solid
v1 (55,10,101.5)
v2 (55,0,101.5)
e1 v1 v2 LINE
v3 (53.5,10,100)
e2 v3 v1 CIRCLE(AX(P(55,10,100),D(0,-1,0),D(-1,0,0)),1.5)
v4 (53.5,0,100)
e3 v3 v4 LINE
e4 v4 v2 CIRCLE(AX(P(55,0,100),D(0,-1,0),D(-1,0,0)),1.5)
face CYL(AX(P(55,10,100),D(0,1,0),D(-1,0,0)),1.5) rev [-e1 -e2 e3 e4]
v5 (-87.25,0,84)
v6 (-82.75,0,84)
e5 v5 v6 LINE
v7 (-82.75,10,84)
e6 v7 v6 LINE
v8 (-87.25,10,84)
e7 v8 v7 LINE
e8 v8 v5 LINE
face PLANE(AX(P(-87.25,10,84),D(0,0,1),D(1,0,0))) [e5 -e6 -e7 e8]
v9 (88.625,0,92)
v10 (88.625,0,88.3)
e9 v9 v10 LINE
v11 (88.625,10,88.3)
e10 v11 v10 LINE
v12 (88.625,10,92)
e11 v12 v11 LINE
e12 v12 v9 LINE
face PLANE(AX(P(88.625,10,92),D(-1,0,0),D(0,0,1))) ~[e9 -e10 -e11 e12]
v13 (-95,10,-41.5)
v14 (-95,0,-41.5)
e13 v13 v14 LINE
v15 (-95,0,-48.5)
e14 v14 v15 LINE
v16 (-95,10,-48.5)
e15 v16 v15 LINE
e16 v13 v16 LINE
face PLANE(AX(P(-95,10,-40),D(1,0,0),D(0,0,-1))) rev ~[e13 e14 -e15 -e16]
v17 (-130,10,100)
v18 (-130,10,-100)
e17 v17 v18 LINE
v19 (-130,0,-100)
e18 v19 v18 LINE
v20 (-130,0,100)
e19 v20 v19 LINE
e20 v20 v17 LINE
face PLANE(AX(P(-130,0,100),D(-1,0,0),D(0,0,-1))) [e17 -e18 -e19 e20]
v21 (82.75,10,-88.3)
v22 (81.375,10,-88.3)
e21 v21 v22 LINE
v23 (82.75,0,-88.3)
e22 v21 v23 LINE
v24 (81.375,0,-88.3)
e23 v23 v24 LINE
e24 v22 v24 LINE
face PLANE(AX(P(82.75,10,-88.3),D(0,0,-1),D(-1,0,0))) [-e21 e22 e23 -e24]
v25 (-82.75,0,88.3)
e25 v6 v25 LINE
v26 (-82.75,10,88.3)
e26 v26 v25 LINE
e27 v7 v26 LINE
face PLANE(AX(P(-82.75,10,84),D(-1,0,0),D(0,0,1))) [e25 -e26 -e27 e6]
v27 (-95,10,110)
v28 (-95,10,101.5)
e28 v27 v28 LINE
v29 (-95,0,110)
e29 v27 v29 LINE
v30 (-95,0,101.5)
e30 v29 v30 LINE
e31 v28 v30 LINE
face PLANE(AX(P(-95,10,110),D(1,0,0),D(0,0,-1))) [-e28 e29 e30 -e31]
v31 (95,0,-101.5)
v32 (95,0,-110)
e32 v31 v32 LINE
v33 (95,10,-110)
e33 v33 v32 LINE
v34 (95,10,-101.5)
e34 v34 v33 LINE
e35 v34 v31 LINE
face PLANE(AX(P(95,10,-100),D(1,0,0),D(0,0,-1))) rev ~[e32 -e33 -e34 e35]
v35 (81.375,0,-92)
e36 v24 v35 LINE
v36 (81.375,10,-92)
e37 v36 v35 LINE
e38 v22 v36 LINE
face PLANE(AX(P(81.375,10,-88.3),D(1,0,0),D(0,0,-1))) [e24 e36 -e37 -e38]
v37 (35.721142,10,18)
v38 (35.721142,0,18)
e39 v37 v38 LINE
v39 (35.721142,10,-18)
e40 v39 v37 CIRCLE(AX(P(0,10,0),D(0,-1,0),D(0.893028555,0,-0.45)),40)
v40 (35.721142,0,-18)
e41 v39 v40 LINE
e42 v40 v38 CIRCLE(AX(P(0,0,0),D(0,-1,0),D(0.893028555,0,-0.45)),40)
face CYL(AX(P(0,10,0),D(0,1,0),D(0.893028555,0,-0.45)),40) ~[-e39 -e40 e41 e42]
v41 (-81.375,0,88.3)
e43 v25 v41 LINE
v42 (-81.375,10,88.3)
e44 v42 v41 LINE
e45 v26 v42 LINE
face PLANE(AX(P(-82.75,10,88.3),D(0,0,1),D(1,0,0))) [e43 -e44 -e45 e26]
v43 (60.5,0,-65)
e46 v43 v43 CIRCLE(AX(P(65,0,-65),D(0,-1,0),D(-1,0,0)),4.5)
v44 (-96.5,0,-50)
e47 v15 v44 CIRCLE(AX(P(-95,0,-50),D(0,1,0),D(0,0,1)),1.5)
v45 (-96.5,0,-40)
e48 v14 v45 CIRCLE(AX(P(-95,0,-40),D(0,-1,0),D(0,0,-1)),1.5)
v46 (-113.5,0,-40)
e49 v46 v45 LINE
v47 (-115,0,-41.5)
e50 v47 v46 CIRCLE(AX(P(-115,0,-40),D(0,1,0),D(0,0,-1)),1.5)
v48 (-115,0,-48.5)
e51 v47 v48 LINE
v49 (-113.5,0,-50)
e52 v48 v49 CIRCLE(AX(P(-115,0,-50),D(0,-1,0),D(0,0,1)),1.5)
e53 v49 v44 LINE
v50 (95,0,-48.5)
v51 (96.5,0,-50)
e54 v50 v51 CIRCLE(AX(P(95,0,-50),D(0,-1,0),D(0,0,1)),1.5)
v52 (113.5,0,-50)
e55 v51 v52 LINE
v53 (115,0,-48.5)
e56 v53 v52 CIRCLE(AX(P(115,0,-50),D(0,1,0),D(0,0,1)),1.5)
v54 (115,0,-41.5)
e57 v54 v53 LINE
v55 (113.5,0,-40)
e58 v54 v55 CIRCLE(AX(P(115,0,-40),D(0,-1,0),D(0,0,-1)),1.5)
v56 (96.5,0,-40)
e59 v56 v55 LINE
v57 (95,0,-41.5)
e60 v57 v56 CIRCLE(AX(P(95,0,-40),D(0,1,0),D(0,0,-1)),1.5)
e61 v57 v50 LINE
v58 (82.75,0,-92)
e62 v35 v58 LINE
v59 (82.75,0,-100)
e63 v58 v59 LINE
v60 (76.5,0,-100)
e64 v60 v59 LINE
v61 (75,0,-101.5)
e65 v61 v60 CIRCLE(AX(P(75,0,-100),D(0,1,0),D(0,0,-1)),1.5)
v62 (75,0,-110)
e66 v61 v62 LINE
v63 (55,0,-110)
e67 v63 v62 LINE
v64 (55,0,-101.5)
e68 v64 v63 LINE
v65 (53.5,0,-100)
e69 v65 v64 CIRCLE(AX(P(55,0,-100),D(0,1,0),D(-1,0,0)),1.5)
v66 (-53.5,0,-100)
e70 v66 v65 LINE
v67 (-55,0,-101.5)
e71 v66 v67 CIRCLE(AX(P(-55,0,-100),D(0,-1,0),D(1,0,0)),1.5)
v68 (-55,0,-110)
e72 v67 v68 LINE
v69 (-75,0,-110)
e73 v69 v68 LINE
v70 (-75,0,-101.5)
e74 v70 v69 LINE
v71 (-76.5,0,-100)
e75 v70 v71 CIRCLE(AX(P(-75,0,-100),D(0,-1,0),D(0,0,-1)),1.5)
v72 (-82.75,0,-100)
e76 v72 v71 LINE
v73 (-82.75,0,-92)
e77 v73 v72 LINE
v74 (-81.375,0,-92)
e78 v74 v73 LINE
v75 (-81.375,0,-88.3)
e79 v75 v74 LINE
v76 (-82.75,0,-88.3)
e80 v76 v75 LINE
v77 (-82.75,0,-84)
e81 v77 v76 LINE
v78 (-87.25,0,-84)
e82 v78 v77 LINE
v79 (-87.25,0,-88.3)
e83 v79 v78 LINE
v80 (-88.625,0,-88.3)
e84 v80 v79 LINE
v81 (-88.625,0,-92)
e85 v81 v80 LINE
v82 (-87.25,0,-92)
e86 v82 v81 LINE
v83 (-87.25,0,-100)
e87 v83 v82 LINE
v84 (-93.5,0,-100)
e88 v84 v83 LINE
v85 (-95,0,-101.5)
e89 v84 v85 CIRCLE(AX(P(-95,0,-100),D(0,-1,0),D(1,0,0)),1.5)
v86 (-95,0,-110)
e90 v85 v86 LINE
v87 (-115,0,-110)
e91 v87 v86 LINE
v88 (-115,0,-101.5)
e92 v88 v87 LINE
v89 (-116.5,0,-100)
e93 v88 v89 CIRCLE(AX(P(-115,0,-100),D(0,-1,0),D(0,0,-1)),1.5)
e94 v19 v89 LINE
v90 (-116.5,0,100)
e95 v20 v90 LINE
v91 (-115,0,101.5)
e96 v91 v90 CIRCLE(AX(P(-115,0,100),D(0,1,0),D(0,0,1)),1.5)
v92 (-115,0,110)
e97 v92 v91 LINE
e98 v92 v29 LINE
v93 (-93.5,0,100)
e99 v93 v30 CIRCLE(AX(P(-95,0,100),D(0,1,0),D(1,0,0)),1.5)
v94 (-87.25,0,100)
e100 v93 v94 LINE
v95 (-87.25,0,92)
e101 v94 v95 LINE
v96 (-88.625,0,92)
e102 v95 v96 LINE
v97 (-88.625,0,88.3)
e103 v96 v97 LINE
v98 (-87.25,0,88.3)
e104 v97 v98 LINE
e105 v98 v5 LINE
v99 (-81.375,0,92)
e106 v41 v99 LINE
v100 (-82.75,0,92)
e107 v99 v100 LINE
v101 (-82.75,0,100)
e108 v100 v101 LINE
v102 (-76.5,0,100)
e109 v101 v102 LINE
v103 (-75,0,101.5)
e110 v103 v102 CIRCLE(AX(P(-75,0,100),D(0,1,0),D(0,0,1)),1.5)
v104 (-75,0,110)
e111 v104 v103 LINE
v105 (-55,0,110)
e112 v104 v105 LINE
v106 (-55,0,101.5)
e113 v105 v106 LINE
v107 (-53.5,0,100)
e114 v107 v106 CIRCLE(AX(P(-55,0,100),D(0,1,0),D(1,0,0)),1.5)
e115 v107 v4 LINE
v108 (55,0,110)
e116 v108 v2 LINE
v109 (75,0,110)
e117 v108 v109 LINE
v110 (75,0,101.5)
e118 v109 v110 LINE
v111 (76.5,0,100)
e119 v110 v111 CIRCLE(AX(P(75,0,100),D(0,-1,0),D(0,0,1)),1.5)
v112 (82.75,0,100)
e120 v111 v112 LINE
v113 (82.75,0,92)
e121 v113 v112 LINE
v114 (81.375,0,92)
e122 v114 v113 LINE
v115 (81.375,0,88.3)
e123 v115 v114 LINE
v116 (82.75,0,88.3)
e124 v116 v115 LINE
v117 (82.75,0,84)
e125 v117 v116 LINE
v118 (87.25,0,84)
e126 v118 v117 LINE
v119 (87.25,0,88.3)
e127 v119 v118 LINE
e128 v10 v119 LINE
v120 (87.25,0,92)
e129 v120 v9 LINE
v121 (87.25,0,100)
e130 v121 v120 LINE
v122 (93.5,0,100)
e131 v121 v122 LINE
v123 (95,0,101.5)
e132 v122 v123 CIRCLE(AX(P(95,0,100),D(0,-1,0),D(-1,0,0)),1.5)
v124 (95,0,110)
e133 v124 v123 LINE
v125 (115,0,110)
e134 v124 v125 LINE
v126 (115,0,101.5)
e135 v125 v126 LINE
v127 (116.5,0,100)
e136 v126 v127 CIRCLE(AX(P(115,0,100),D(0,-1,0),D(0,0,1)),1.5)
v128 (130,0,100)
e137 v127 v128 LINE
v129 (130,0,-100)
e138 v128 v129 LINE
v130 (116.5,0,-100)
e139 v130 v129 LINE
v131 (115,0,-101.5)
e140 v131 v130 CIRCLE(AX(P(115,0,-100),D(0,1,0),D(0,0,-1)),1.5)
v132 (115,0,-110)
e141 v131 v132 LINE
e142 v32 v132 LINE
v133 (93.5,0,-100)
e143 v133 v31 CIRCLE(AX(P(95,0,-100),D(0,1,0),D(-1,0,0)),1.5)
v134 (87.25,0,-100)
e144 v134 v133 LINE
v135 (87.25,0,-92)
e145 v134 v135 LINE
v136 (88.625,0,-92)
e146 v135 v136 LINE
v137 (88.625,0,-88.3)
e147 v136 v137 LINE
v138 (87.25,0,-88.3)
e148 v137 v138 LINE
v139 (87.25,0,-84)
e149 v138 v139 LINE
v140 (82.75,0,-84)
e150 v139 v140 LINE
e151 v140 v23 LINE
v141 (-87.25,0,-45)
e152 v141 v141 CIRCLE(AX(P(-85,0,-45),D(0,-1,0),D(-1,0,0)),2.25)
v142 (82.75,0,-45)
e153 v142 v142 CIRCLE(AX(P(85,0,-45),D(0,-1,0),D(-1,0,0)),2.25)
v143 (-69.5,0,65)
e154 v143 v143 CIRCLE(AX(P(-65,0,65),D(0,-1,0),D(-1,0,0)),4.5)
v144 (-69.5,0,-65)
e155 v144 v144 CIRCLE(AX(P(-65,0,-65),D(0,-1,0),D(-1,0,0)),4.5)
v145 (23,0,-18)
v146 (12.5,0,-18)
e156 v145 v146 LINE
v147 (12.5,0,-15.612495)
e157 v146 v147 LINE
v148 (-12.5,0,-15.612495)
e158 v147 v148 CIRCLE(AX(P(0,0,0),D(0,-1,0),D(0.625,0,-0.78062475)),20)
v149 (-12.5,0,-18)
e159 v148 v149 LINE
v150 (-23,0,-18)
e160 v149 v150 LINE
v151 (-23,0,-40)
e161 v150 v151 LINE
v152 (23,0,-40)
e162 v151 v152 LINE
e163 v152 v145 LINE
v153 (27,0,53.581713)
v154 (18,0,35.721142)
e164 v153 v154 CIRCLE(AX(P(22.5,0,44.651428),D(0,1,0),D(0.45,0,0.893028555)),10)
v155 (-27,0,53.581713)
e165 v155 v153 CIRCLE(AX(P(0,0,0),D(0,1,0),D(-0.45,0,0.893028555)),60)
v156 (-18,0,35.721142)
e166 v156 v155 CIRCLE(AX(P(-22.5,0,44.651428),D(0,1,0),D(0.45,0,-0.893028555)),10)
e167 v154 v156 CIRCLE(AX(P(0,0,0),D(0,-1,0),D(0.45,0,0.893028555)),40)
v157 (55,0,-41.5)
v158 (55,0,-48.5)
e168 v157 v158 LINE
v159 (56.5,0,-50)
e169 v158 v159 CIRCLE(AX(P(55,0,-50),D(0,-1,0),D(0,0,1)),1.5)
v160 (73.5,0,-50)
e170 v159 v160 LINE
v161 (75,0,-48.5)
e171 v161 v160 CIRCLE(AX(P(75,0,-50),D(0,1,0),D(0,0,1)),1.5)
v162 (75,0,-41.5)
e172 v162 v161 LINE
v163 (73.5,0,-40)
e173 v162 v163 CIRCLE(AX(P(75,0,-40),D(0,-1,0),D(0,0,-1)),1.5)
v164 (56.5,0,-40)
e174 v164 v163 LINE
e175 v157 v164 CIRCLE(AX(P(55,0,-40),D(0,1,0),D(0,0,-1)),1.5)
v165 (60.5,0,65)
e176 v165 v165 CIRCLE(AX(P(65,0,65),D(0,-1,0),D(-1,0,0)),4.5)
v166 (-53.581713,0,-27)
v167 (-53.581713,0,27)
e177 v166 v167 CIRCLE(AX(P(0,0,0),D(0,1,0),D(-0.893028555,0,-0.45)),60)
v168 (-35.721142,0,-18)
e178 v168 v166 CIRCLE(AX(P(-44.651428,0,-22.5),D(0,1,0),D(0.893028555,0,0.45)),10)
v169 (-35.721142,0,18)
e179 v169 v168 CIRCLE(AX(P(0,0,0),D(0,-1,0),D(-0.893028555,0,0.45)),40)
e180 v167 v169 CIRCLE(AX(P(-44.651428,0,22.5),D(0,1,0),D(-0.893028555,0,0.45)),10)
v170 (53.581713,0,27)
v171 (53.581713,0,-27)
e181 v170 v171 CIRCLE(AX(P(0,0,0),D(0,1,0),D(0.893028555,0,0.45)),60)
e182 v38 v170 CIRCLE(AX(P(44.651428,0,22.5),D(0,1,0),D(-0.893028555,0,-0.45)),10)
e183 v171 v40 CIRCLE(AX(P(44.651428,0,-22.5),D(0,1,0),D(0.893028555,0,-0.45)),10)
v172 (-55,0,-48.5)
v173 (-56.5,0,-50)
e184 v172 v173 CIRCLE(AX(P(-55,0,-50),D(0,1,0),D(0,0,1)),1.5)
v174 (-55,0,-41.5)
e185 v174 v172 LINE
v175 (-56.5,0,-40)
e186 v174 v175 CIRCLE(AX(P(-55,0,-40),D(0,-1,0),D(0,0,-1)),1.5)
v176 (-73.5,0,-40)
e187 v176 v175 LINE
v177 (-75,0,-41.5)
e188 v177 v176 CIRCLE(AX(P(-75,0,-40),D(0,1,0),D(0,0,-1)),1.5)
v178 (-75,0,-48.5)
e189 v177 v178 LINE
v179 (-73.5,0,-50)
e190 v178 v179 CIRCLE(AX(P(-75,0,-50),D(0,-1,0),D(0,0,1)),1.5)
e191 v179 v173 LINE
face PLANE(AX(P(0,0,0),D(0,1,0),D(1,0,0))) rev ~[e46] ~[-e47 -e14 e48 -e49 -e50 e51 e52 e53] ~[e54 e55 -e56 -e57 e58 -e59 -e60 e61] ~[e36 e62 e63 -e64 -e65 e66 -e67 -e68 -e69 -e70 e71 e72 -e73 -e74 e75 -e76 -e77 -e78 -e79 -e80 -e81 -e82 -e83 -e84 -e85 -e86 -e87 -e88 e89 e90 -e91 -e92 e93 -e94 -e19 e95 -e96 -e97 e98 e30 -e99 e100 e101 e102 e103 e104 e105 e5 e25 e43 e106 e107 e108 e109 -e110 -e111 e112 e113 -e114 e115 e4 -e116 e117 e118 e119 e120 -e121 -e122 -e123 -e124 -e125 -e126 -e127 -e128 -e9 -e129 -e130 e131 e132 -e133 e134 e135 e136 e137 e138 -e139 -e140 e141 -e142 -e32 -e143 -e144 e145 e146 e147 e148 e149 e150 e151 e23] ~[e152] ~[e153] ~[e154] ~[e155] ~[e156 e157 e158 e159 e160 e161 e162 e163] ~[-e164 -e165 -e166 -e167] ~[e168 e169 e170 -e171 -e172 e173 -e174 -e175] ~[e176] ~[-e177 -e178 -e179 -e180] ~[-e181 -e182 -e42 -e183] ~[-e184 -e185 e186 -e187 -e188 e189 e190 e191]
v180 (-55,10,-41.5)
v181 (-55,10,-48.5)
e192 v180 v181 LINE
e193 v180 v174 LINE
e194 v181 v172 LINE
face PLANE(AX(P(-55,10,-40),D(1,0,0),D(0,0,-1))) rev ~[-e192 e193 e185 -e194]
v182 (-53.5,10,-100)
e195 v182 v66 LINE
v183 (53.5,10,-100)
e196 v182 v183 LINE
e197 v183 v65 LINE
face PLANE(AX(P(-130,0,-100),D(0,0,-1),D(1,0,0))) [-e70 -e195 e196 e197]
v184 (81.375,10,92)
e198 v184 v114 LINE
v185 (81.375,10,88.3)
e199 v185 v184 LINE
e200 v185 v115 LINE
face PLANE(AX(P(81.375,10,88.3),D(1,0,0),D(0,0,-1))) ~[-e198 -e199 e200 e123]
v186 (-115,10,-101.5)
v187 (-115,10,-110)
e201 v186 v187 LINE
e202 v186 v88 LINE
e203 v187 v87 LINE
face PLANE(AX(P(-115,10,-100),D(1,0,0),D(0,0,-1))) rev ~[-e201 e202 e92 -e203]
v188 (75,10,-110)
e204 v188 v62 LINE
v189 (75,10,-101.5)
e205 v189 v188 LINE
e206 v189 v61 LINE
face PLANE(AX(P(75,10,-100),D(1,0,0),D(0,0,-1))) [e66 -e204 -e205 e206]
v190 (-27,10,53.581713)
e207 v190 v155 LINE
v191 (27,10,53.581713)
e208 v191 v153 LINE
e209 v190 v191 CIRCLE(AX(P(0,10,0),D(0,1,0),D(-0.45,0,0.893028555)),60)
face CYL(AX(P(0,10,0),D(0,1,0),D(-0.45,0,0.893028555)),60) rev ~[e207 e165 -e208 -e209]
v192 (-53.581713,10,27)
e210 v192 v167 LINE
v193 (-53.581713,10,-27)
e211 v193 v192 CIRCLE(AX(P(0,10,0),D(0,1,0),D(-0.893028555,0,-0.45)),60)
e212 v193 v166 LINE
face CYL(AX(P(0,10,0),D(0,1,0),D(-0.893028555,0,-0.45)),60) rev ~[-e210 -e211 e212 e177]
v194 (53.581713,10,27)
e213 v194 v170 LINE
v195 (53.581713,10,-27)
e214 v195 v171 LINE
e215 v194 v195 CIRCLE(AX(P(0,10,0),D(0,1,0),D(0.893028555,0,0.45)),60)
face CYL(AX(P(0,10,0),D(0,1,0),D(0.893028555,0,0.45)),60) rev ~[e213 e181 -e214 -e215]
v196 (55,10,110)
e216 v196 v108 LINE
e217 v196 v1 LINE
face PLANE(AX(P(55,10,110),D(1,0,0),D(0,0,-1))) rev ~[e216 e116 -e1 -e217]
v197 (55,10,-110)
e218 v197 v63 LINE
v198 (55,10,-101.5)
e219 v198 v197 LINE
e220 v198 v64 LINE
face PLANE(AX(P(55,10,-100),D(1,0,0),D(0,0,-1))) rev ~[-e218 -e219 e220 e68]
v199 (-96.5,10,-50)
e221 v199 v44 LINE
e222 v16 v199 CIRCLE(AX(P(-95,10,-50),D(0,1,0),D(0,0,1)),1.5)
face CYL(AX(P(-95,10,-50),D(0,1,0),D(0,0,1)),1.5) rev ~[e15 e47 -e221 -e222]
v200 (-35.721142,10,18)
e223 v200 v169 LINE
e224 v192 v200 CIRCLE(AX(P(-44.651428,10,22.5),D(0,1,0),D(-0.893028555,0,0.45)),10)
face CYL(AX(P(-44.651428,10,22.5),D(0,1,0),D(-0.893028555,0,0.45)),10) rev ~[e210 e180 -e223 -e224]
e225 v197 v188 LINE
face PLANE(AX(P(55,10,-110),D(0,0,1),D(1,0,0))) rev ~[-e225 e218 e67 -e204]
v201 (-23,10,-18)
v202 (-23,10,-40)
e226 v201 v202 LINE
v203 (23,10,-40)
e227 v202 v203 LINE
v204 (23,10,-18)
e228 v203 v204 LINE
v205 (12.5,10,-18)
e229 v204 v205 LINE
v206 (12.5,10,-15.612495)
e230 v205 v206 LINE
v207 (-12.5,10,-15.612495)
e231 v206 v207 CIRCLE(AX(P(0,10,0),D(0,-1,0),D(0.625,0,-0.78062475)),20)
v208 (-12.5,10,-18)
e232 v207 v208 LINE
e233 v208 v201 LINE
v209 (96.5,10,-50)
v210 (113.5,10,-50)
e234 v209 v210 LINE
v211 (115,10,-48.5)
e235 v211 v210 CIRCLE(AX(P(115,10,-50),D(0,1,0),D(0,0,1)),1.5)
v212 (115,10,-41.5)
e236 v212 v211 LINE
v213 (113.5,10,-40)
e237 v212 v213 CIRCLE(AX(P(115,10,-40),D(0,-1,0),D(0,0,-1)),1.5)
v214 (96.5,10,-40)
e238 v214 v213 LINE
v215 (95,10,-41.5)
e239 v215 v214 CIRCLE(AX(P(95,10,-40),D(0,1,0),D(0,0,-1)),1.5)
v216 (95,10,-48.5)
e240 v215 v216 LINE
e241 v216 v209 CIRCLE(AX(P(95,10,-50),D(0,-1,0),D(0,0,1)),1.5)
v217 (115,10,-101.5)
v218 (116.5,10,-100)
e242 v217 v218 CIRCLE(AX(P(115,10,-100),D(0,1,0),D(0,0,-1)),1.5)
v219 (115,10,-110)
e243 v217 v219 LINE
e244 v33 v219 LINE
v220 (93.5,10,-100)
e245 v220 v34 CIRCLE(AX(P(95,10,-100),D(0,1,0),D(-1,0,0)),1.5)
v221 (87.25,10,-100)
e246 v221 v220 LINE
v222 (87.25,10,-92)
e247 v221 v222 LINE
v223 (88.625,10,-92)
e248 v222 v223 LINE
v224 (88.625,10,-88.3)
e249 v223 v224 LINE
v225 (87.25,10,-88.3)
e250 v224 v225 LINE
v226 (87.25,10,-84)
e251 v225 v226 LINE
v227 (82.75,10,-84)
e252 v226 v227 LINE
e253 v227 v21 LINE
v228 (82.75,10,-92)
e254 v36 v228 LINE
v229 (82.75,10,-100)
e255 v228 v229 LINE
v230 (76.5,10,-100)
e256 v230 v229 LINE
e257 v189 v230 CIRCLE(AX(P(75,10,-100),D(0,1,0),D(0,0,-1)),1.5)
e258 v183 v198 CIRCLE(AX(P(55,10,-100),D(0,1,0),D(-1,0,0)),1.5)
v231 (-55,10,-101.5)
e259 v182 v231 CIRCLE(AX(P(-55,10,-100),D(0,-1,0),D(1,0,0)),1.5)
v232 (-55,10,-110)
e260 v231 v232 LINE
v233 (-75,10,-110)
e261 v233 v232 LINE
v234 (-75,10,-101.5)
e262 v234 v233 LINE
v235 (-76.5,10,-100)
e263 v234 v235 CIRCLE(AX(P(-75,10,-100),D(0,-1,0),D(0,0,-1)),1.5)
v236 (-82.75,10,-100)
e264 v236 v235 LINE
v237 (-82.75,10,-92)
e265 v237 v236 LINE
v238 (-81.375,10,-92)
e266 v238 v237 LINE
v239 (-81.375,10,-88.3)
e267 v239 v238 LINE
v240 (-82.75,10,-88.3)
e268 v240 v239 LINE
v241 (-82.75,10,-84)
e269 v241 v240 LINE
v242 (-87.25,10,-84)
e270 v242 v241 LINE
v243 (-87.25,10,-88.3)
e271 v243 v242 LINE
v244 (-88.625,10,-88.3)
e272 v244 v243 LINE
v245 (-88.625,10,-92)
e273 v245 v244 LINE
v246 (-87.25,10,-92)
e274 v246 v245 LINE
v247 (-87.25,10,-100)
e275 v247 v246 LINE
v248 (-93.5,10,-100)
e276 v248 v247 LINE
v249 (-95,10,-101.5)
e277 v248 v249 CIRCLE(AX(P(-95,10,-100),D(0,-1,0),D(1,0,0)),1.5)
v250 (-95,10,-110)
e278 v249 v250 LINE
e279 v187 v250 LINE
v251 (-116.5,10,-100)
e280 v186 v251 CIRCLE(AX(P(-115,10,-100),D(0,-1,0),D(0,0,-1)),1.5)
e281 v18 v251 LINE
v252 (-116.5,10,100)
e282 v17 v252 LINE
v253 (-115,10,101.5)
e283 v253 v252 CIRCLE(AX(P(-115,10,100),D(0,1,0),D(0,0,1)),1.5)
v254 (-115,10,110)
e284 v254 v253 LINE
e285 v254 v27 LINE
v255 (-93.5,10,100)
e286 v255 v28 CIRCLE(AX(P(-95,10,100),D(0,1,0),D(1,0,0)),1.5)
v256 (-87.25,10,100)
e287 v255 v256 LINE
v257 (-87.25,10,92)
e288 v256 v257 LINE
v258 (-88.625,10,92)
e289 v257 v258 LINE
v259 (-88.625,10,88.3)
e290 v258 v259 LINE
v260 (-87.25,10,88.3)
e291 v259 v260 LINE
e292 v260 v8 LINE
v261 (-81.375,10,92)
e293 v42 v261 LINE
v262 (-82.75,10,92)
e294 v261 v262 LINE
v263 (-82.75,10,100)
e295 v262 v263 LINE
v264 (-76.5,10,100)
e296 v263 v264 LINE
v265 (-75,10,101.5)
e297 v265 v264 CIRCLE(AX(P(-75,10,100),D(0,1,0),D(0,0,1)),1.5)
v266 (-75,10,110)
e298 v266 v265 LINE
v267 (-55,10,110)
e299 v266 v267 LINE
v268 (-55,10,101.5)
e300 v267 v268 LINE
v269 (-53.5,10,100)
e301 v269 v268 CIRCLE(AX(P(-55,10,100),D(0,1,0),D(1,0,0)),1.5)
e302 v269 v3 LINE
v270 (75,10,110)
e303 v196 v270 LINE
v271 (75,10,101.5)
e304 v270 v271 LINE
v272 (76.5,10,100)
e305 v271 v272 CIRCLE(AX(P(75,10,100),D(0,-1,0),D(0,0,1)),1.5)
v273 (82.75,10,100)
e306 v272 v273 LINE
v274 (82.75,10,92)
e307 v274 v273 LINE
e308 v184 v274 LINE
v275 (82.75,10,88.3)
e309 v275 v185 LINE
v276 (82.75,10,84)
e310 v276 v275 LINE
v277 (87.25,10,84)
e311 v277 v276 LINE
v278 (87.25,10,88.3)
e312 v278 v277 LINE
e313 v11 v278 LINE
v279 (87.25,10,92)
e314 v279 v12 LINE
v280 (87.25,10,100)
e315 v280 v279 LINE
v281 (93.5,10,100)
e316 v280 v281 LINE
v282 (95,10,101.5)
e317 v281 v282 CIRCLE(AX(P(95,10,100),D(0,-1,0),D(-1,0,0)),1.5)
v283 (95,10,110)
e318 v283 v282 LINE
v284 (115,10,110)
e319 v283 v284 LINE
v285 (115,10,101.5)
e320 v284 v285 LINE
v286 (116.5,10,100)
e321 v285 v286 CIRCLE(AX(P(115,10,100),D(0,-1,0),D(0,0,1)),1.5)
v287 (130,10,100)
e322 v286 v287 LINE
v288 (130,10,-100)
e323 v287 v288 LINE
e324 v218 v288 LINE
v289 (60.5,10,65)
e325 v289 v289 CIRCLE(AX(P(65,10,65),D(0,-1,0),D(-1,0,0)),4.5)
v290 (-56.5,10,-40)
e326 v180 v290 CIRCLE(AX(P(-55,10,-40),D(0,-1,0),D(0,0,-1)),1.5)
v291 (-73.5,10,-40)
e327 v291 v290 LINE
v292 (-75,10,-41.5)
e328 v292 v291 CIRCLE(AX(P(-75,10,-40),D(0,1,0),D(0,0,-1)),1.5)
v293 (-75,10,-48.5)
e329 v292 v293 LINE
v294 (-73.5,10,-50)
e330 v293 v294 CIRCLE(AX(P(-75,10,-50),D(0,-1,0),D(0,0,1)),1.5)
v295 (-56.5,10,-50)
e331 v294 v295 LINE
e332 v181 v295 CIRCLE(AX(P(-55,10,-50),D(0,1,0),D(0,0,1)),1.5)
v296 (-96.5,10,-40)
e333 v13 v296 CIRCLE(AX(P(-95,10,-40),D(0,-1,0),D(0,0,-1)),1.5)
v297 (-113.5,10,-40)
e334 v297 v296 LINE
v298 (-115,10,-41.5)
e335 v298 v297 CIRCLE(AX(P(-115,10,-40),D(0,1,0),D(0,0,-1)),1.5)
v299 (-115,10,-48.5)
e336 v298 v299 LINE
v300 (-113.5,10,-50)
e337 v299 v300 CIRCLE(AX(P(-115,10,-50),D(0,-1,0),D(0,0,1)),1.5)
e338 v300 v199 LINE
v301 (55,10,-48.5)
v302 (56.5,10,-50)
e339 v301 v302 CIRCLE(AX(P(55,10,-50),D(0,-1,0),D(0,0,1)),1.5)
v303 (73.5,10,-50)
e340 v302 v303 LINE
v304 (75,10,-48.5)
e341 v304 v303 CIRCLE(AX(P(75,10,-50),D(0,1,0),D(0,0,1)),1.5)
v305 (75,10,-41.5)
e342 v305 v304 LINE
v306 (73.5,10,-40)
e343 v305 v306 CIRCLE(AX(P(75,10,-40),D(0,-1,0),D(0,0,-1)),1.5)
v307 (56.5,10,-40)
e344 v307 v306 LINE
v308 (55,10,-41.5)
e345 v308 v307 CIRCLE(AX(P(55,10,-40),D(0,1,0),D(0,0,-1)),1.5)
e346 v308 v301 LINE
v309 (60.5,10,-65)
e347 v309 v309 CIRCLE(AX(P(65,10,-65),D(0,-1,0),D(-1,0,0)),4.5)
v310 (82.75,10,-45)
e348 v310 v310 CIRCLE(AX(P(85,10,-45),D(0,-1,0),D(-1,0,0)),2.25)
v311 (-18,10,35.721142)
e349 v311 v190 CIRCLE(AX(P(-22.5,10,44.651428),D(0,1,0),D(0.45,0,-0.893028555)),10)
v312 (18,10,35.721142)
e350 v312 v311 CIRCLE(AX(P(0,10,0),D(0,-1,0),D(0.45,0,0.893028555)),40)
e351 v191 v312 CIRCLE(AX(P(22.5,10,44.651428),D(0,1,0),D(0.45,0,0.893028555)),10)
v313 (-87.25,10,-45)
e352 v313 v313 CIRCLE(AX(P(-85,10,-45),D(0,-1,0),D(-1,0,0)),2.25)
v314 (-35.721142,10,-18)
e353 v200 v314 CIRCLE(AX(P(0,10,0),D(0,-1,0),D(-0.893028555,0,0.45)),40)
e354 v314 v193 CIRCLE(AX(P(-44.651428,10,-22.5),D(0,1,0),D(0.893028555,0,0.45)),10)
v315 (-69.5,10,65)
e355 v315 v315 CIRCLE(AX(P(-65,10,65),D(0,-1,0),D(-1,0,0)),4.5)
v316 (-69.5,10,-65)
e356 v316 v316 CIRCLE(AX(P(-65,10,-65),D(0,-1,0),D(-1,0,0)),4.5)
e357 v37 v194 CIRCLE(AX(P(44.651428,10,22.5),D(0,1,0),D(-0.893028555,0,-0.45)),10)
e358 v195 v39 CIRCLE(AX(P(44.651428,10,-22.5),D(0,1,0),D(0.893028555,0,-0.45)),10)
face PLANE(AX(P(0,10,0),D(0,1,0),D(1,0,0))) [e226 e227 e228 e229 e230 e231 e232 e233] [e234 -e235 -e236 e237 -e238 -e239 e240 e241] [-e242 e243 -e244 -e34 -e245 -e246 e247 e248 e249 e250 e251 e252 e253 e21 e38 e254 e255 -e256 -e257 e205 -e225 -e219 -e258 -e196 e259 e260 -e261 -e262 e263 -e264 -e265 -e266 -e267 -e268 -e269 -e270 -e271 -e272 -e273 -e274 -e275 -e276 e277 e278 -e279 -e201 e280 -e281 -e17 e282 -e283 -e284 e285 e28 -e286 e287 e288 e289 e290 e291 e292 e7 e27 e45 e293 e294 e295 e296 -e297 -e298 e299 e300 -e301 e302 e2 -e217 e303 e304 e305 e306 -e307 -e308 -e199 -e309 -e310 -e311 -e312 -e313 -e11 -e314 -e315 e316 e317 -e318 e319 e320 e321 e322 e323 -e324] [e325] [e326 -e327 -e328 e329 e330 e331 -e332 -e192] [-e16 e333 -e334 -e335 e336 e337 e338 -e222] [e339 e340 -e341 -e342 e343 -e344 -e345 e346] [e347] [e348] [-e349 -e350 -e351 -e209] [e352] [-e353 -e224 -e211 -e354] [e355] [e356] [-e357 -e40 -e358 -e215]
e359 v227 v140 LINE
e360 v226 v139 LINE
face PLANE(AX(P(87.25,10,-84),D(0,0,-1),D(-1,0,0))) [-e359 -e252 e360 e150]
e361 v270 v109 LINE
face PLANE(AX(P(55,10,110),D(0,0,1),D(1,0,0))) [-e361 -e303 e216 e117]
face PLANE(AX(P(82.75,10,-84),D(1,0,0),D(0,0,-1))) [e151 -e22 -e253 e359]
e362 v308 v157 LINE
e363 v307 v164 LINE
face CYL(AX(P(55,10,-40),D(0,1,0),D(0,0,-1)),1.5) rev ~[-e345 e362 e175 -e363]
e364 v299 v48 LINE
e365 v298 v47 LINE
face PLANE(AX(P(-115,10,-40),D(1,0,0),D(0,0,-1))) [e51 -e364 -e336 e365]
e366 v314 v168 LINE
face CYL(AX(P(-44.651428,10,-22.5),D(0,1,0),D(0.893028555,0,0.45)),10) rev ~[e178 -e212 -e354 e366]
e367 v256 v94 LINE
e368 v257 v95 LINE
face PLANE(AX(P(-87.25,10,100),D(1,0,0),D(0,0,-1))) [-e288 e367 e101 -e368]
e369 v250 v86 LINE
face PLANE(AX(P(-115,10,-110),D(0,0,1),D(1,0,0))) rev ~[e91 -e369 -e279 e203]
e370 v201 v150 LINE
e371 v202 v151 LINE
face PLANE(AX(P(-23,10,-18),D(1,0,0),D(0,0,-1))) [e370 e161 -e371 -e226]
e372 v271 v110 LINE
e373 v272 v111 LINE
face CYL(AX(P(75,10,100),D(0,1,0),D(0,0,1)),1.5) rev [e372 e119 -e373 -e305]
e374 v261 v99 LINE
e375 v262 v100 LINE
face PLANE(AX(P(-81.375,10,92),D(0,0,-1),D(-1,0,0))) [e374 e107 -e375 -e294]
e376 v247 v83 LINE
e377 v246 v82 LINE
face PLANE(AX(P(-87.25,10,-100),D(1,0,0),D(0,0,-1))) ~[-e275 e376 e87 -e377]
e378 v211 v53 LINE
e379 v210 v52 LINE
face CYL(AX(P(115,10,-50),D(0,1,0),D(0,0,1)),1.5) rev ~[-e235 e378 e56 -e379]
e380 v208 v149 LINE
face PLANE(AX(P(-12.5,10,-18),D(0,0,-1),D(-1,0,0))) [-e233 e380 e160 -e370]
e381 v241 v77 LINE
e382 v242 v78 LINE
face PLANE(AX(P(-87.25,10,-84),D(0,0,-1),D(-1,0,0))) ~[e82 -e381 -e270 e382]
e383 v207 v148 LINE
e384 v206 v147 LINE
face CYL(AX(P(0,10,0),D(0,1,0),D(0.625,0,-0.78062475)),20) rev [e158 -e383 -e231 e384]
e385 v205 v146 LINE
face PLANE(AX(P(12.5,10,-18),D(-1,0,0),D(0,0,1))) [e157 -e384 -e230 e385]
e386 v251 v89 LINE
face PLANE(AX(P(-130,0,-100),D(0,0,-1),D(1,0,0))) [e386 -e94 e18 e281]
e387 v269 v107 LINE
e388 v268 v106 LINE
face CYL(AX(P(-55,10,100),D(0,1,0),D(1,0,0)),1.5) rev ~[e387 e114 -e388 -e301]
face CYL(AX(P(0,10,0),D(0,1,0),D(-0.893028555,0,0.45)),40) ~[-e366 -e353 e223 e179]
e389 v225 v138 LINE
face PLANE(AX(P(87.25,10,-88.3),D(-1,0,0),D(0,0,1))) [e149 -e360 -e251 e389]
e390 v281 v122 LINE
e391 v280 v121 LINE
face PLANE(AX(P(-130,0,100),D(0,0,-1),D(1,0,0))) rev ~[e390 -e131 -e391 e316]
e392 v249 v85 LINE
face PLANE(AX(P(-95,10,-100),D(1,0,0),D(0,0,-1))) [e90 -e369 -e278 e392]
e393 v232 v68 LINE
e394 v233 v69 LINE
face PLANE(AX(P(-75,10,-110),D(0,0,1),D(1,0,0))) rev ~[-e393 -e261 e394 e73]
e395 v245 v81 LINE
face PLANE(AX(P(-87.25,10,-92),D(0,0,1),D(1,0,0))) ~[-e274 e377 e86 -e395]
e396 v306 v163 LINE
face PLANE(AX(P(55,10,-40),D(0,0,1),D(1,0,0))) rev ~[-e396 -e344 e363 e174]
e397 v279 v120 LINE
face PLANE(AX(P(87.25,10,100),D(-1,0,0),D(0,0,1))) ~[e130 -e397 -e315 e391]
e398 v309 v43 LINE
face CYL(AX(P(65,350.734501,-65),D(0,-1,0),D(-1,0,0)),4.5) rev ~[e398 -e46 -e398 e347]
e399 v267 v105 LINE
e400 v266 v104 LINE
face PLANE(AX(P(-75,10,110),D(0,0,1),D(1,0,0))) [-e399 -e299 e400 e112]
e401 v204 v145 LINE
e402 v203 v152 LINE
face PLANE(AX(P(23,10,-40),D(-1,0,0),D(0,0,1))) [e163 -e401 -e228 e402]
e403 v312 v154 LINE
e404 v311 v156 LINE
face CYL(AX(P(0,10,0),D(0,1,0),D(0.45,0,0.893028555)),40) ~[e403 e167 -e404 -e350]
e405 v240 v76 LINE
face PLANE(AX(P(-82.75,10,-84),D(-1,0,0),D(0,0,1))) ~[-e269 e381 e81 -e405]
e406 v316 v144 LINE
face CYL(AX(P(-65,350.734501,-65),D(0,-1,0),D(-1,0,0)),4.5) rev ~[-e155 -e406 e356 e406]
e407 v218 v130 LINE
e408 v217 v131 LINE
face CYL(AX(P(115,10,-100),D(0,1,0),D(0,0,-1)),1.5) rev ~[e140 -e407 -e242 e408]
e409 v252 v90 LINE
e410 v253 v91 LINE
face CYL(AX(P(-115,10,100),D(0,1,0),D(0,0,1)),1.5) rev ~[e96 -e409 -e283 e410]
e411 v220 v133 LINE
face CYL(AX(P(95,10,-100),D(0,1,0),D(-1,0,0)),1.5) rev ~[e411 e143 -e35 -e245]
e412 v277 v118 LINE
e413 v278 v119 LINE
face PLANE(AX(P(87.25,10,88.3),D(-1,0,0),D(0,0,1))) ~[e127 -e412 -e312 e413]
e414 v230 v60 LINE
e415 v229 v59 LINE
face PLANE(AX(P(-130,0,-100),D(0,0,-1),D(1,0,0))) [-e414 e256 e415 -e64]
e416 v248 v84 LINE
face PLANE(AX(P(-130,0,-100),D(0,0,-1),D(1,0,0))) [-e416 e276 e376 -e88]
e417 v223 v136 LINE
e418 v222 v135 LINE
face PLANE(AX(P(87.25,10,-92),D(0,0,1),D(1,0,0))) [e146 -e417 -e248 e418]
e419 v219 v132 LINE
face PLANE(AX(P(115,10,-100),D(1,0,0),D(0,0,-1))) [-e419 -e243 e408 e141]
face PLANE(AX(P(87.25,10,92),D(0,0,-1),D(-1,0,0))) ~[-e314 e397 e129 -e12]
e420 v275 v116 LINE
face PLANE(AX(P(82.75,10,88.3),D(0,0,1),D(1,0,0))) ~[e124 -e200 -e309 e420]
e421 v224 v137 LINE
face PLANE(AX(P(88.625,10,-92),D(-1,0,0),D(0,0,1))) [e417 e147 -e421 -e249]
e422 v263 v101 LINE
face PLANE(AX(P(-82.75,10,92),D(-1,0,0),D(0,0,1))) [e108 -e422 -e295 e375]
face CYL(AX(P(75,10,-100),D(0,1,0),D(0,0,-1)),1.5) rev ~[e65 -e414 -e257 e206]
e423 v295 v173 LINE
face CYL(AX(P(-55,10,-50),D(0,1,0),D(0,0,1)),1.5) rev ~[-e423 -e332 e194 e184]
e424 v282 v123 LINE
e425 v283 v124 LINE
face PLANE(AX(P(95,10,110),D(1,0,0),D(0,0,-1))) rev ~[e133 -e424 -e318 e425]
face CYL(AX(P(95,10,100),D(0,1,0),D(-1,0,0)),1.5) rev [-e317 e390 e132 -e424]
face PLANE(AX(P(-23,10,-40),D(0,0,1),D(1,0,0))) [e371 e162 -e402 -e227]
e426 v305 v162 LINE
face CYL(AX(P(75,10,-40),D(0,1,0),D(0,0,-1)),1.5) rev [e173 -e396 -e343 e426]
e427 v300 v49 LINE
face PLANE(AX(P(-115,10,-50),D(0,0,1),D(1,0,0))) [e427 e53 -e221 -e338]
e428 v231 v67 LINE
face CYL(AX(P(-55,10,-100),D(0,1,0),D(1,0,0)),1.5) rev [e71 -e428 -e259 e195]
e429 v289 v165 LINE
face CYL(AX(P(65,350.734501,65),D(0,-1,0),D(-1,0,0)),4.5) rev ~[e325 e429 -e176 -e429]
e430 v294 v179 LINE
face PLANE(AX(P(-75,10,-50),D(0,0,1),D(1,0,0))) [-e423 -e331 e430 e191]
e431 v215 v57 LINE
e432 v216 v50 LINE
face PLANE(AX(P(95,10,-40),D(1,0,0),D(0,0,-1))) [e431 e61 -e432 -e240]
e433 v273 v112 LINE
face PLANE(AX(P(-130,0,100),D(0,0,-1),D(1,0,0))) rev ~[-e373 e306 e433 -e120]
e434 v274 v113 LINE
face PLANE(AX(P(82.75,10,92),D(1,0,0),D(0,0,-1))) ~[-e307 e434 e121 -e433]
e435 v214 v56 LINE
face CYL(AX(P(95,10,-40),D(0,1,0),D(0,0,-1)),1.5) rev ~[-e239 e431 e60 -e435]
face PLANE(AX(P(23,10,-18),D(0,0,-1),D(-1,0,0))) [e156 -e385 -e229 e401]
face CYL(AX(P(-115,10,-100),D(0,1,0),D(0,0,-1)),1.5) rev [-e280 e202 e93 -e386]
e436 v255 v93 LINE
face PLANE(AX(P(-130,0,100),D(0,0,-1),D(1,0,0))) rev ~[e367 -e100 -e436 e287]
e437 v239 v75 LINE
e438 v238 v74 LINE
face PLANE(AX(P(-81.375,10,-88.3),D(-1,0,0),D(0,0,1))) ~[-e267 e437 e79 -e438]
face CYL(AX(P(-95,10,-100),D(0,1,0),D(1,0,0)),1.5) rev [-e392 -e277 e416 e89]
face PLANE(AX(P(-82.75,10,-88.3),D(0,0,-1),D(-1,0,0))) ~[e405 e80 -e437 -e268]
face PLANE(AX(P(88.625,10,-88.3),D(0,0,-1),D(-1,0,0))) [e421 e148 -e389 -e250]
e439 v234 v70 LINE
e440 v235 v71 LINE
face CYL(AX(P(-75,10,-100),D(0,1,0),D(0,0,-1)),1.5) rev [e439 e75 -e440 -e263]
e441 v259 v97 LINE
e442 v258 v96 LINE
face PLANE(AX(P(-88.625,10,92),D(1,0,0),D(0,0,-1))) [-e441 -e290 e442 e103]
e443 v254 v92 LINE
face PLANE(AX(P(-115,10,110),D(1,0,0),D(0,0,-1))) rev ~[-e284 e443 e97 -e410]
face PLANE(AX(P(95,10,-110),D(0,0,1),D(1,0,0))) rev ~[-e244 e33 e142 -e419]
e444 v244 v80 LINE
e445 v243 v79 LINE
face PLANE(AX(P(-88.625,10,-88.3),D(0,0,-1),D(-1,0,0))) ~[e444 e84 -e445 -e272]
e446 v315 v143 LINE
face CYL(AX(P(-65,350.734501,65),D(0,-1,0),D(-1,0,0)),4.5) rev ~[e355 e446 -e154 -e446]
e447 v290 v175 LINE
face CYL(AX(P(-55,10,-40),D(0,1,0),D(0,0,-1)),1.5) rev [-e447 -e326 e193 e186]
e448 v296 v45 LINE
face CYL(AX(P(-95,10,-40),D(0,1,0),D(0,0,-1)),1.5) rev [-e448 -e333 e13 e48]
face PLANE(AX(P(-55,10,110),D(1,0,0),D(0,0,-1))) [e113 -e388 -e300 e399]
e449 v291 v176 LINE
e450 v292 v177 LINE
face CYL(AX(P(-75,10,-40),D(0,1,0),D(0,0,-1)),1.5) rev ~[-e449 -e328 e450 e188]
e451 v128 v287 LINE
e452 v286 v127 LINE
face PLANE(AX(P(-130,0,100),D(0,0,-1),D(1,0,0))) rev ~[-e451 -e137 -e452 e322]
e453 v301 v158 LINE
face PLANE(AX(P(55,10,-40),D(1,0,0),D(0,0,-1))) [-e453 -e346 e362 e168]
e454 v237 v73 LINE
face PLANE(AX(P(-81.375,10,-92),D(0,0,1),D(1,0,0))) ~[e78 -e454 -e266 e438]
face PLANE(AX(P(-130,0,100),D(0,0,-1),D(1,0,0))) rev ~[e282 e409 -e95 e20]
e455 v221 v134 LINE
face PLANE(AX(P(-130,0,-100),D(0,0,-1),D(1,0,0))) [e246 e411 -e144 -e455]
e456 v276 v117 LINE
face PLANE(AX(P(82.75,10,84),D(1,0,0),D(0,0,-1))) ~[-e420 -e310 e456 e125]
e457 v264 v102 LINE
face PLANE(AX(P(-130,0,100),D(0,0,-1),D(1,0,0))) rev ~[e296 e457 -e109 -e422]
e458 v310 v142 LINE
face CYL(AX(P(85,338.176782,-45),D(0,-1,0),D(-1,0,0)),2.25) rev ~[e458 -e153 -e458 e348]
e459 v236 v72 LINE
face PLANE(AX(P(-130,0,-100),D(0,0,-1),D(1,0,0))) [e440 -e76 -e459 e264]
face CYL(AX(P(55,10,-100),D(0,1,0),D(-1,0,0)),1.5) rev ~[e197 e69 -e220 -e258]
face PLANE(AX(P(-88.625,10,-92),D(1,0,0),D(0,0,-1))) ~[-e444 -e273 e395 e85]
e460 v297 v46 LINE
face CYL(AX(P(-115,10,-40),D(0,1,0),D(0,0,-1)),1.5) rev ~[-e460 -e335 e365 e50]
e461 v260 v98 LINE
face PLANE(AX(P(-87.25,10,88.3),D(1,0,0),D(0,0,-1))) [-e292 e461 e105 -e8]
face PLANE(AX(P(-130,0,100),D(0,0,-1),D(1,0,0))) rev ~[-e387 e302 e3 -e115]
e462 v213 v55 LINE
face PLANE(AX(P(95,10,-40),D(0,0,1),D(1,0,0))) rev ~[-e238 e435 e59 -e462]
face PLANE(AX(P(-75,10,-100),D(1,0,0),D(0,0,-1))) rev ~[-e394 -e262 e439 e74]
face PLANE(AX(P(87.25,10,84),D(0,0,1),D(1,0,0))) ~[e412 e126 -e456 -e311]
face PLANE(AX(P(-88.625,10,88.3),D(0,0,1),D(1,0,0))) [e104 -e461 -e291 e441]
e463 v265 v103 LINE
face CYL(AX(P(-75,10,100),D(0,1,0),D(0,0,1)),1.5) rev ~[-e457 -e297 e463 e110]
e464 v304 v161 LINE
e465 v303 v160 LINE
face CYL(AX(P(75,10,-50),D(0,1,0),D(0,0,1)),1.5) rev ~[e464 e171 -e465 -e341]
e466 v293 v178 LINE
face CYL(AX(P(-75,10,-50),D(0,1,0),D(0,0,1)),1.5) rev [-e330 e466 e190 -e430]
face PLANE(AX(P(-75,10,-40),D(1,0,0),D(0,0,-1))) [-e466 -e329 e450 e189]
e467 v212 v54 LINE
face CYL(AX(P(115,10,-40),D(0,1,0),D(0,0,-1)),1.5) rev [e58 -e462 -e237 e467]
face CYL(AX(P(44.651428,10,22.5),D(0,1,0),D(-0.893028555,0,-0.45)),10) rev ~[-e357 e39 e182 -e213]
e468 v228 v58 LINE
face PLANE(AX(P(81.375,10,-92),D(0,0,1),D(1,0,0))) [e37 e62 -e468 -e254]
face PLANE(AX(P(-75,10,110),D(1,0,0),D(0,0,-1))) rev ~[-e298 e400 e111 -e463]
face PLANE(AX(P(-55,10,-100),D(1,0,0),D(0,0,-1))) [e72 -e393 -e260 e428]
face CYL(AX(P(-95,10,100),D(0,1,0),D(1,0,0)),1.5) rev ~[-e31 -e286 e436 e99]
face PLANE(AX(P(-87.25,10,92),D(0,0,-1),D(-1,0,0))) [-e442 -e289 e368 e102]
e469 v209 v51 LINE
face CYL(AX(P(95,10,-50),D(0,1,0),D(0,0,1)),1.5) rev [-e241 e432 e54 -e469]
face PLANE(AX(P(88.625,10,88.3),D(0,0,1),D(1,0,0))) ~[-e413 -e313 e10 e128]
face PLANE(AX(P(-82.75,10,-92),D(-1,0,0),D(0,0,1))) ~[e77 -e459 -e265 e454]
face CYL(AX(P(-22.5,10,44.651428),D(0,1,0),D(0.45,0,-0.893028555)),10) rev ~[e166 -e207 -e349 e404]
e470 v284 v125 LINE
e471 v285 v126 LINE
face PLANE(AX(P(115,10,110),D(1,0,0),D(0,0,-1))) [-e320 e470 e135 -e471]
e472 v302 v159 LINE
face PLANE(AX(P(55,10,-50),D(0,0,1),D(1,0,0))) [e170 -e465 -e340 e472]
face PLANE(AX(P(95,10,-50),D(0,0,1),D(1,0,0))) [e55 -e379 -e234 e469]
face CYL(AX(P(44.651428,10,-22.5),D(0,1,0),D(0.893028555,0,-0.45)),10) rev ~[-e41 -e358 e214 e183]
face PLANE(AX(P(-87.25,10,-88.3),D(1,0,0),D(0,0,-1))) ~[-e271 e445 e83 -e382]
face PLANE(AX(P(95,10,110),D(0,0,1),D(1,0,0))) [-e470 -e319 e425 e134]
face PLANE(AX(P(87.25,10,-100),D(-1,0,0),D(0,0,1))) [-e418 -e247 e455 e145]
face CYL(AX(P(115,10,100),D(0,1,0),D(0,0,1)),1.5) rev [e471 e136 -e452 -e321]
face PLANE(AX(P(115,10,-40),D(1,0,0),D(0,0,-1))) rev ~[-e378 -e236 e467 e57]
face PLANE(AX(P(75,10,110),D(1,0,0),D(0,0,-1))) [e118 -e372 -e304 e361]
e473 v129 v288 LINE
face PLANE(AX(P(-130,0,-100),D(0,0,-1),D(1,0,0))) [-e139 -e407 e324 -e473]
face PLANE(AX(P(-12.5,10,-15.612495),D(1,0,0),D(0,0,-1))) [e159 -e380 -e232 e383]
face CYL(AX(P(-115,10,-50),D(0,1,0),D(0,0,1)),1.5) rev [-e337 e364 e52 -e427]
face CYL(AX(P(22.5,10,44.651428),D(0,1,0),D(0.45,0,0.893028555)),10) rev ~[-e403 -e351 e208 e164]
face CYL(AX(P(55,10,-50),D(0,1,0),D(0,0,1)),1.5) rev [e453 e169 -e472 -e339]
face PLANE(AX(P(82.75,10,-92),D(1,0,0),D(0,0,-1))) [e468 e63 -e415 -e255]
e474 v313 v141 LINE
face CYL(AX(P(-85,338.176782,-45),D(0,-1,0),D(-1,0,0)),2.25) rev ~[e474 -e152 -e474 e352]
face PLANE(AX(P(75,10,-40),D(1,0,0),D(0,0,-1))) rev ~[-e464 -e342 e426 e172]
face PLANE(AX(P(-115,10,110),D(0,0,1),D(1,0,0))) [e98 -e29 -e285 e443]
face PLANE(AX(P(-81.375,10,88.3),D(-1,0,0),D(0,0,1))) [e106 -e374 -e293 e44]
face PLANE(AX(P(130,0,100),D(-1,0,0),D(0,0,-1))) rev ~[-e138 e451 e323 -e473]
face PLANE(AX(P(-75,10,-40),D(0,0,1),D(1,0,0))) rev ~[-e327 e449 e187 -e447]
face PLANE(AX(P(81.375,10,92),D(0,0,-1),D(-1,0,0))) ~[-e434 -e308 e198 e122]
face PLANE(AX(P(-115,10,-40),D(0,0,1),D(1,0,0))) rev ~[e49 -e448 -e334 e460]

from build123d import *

# Parameters (mm, degrees)
SKETCH1_W            = 260
SKETCH1_H            = 200
EXTRUDE1_DEPTH       = 10
SKETCH3_W            = 20
SKETCH3_H            = 10
EXTRUDE2_DEPTH       = 10
M4_CLEARANCE_HOLE1_D = 4.5
EXTRUDE3_DEPTH       = 10
MIRROR2_COPY_1_DEPTH = 10
MIRROR3_COPY_1_DEPTH = 10
MIRROR3_COPY_2_DEPTH = 10
MIRROR3_COPY_3_DEPTH = 10
SKETCH7_W            = 20
SKETCH7_H            = 10
EXTRUDE4_DEPTH       = 10
LPATTERN1_COUNT      = 2
LPATTERN1_PITCH      = 170
LPATTERN1_COUNT_DIR2 = 2
LPATTERN1_PITCH_DIR2 = 210
EXTRUDE5_DEPTH       = 10
MIRROR5_COPY_1_DEPTH = 10
EXTRUDE6_DEPTH       = 10
MIRROR7_COPY_1_DEPTH = 10
EXTRUDE7_DEPTH       = 10
EXTRUDE8_DEPTH       = 10
M8_CLEARANCE_HOLE1_D = 9


with BuildPart() as part:
    # Sketch1 → Extrude1 (new body)
    with BuildSketch(Plane(origin=(0, 0, 0), x_dir=(1, 0, 0), z_dir=(0, 1, 0))):
        Rectangle(SKETCH1_W, SKETCH1_H)
    extrude(amount=EXTRUDE1_DEPTH)

    # Sketch3 → Extrude2 (cut)
    with BuildSketch(Plane(origin=(0, 10, 0), x_dir=(1, 0, 0), z_dir=(0, 1, 0))):
        with Locations((-105, 45)):
            Rectangle(SKETCH3_W, SKETCH3_H)
        with Locations((105, 45)):
            Rectangle(SKETCH3_W, SKETCH3_H)
        with Locations((-65, 45)):
            Rectangle(SKETCH3_W, SKETCH3_H)
        with Locations((65, 45)):
            Rectangle(SKETCH3_W, SKETCH3_H)
    extrude(amount=-EXTRUDE2_DEPTH, mode=Mode.SUBTRACT)

    # M4 Clearance Hole1 (through all)
    with Locations(Plane(origin=(0, 10, 0), x_dir=(1, 0, 0), z_dir=(0, 1, 0))):
        with Locations((-85, 45), (85, 45)):
            Hole(M4_CLEARANCE_HOLE1_D / 2)

    # Sketch6 → Extrude3 (cut)
    with BuildSketch(Plane(origin=(0, 10, 0), x_dir=(1, 0, 0), z_dir=(0, 1, 0))):
        with BuildLine():
            Line((-113.5, 50), (-115, 50))
            Line((-115, 50), (-115, 48.5))
            ThreePointArc((-115, 48.5), (-116.060660172, 51.060660172), (-113.5, 50))
        make_face()
        with BuildLine():
            Line((-113.5, 40), (-115, 40))
            Line((-115, 40), (-115, 41.5))
            ThreePointArc((-115, 41.5), (-116.060660172, 38.939339828), (-113.5, 40))
        make_face()
    extrude3 = extrude(amount=-EXTRUDE3_DEPTH, mode=Mode.SUBTRACT)

    # Mirror1: Extrude3 across plane
    add(extrude3.mirror(Plane(origin=(-105, 0, 0), x_dir=(0, 0, 1), z_dir=(1, 0, 0))), mode=Mode.SUBTRACT)

    # Mirror2: Extrude3 across plane
    add(extrude3.mirror(Plane.ZY.offset(85)), mode=Mode.SUBTRACT)

    # Mirror2 copy 1 sketch → Mirror2 copy 1 (cut)
    with BuildSketch(Plane(origin=(40, 10, 0), x_dir=(1, 0, 0), z_dir=(0, 1, 0))):
        with BuildLine():
            Line((-113.5, 50), (-115, 50))
            Line((-115, 50), (-115, 48.5))
            ThreePointArc((-115, 48.5), (-116.060660172, 51.060660172), (-113.5, 50))
        make_face()
        with BuildLine():
            Line((-113.5, 40), (-115, 40))
            Line((-115, 40), (-115, 41.5))
            ThreePointArc((-115, 41.5), (-116.060660172, 38.939339828), (-113.5, 40))
        make_face()
    extrude(amount=-MIRROR2_COPY_1_DEPTH, mode=Mode.SUBTRACT)

    # Mirror3: Extrude3 across plane
    add(extrude3.mirror(Plane(origin=(0, 0, 0), x_dir=(0, 0, 1), z_dir=(1, 0, 0))), mode=Mode.SUBTRACT)

    # Mirror3 copy 1 sketch → Mirror3 copy 1 (cut)
    with BuildSketch(Plane(origin=(210, 10, 0), x_dir=(1, 0, 0), z_dir=(0, 1, 0))):
        with BuildLine():
            Line((-113.5, 50), (-115, 50))
            Line((-115, 50), (-115, 48.5))
            ThreePointArc((-115, 48.5), (-116.060660172, 51.060660172), (-113.5, 50))
        make_face()
        with BuildLine():
            Line((-113.5, 40), (-115, 40))
            Line((-115, 40), (-115, 41.5))
            ThreePointArc((-115, 41.5), (-116.060660172, 38.939339828), (-113.5, 40))
        make_face()
    extrude(amount=-MIRROR3_COPY_1_DEPTH, mode=Mode.SUBTRACT)

    # Mirror3 copy 2 sketch → Mirror3 copy 2 (cut)
    with BuildSketch(Plane(origin=(170, 10, 0), x_dir=(1, 0, 0), z_dir=(0, 1, 0))):
        with BuildLine():
            Line((-113.5, 50), (-115, 50))
            Line((-115, 50), (-115, 48.5))
            ThreePointArc((-115, 48.5), (-116.060660172, 51.060660172), (-113.5, 50))
        make_face()
        with BuildLine():
            Line((-113.5, 40), (-115, 40))
            Line((-115, 40), (-115, 41.5))
            ThreePointArc((-115, 41.5), (-116.060660172, 38.939339828), (-113.5, 40))
        make_face()
    extrude(amount=-MIRROR3_COPY_2_DEPTH, mode=Mode.SUBTRACT)

    # Mirror3 copy 3 sketch → Mirror3 copy 3 (cut)
    with BuildSketch(Plane(origin=(-40, 10, 0), x_dir=(-1, 0, 0), z_dir=(0, 1, 0))):
        with BuildLine():
            Line((-113.5, -50), (-115, -50))
            Line((-115, -50), (-115, -48.5))
            ThreePointArc((-115, -48.5), (-116.060660172, -51.060660172), (-113.5, -50))
        make_face()
        with BuildLine():
            Line((-113.5, -40), (-115, -40))
            Line((-115, -40), (-115, -41.5))
            ThreePointArc((-115, -41.5), (-116.060660172, -38.939339828), (-113.5, -40))
        make_face()
    extrude(amount=-MIRROR3_COPY_3_DEPTH, mode=Mode.SUBTRACT)

    # Sketch7 → Extrude4 (add)
    with BuildSketch(Plane(origin=(0, 10, 0), x_dir=(1, 0, 0), z_dir=(0, 1, 0))):
        with Locations((-105, -105)):
            Rectangle(SKETCH7_W, SKETCH7_H)
        with Locations((-65, -105)):
            Rectangle(SKETCH7_W, SKETCH7_H)
    extrude4 = extrude(amount=-EXTRUDE4_DEPTH)

    # LPattern1: Extrude4 2 × 2
    with Locations(*[(i * LPATTERN1_PITCH, 0, -j * LPATTERN1_PITCH_DIR2) for i in range(LPATTERN1_COUNT) for j in range(LPATTERN1_COUNT_DIR2) if (i, j) != (0, 0)]):
        add(extrude4)

    # Sketch8 → Extrude5 (cut)
    with BuildSketch(Plane(origin=(0, 10, 0), x_dir=(1, 0, 0), z_dir=(0, 1, 0))):
        with BuildLine():
            Line((-116.5, -100), (-115, -100))
            Line((-115, -100), (-115, -101.5))
            ThreePointArc((-115, -101.5), (-113.939339828, -98.939339828), (-116.5, -100))
        make_face()
        with BuildLine():
            Line((-95, -101.5), (-95, -100))
            Line((-95, -100), (-93.5, -100))
            ThreePointArc((-93.5, -100), (-96.060660172, -98.939339828), (-95, -101.5))
        make_face()
        with BuildLine():
            Line((-75, -100), (-75, -101.5))
            ThreePointArc((-75, -101.5), (-73.939339828, -98.939339828), (-76.5, -100))
            Line((-76.5, -100), (-75, -100))
        make_face()
        with BuildLine():
            Line((-55, -101.5), (-55, -100))
            Line((-55, -100), (-53.5, -100))
            ThreePointArc((-53.5, -100), (-56.060660172, -98.939339828), (-55, -101.5))
        make_face()
    extrude5 = extrude(amount=-EXTRUDE5_DEPTH, mode=Mode.SUBTRACT)

    # Mirror4: Extrude5 across plane
    add(extrude5.mirror(Plane(origin=(0, 0, 0), x_dir=(0, 0, 1), z_dir=(1, 0, 0))), mode=Mode.SUBTRACT)

    # Mirror5: Extrude5 across plane
    add(extrude5.mirror(Plane.XY), mode=Mode.SUBTRACT)

    # Mirror5 copy 1 sketch → Mirror5 copy 1 (cut)
    with BuildSketch(Plane(origin=(0, 10, 0), x_dir=(-1, 0, 0), z_dir=(0, 1, 0))):
        with BuildLine():
            Line((-116.5, -100), (-115, -100))
            Line((-115, -100), (-115, -101.5))
            ThreePointArc((-115, -101.5), (-113.939339828, -98.939339828), (-116.5, -100))
        make_face()
        with BuildLine():
            Line((-95, -101.5), (-95, -100))
            Line((-95, -100), (-93.5, -100))
            ThreePointArc((-93.5, -100), (-96.060660172, -98.939339828), (-95, -101.5))
        make_face()
        with BuildLine():
            Line((-75, -100), (-75, -101.5))
            ThreePointArc((-75, -101.5), (-73.939339828, -98.939339828), (-76.5, -100))
            Line((-76.5, -100), (-75, -100))
        make_face()
        with BuildLine():
            Line((-55, -101.5), (-55, -100))
            Line((-55, -100), (-53.5, -100))
            ThreePointArc((-53.5, -100), (-56.060660172, -98.939339828), (-55, -101.5))
        make_face()
    extrude(amount=-MIRROR5_COPY_1_DEPTH, mode=Mode.SUBTRACT)

    # Sketch9 → Extrude6 (cut)
    with BuildSketch(Plane(origin=(0, 10, 0), x_dir=(1, 0, 0), z_dir=(0, 1, 0))):
        Polygon((-87.25, -100), (-87.25, -92), (-88.625, -92), (-88.625, -88.3), (-87.25, -88.3), (-87.25, -84), (-82.75, -84), (-82.75, -88.3), (-81.375, -88.3), (-81.375, -92), (-82.75, -92), (-82.75, -100), align=None)
    extrude6 = extrude(amount=-EXTRUDE6_DEPTH, mode=Mode.SUBTRACT)

    # Mirror6: Extrude6 across plane
    add(extrude6.mirror(Plane(origin=(0, 0, 0), x_dir=(0, 0, 1), z_dir=(1, 0, 0))), mode=Mode.SUBTRACT)

    # Mirror7: Extrude6 across plane
    add(extrude6.mirror(Plane.XY), mode=Mode.SUBTRACT)

    # Mirror7 copy 1 sketch → Mirror7 copy 1 (cut)
    with BuildSketch(Plane(origin=(0, 10, 0), x_dir=(-1, 0, 0), z_dir=(0, 1, 0))):
        Polygon((-87.25, -100), (-87.25, -92), (-88.625, -92), (-88.625, -88.3), (-87.25, -88.3), (-87.25, -84), (-82.75, -84), (-82.75, -88.3), (-81.375, -88.3), (-81.375, -92), (-82.75, -92), (-82.75, -100), align=None)
    extrude(amount=-MIRROR7_COPY_1_DEPTH, mode=Mode.SUBTRACT)

    # Sketch10 → Extrude7 (cut)
    with BuildSketch(Plane(origin=(0, 10, 0), x_dir=(1, 0, 0), z_dir=(0, 1, 0))):
        with BuildLine():
            Line((-23, 40), (23, 40))
            Line((23, 40), (23, 18))
            Line((23, 18), (12.5, 18))
            Line((12.5, 18), (12.5, 15.612494996))
            ThreePointArc((12.5, 15.612494996), (0, -20), (-12.5, 15.612494996))
            Line((-12.5, 15.612494996), (-12.5, 18))
            Line((-12.5, 18), (-23, 18))
            Line((-23, 18), (-23, 40))
        make_face()
    extrude(amount=-EXTRUDE7_DEPTH, mode=Mode.SUBTRACT)

    # Sketch11 → Extrude8 (cut)
    with BuildSketch(Plane(origin=(0, 10, 0), x_dir=(1, 0, 0), z_dir=(0, 1, 0))):
        with BuildLine():
            ThreePointArc((53.581713298, -27), (60, 0), (53.581713298, 27))
            ThreePointArc((53.581713298, 27), (40.151427749, 31.43028555), (35.721142199, 18))
            ThreePointArc((35.721142199, 18), (40, 0), (35.721142199, -18))
            ThreePointArc((35.721142199, -18), (40.151427749, -31.43028555), (53.581713298, -27))
        make_face()
        with BuildLine():
            ThreePointArc((-27, -53.581713298), (0, -60), (27, -53.581713298))
            ThreePointArc((27, -53.581713298), (31.43028555, -40.151427749), (18, -35.721142199))
            ThreePointArc((18, -35.721142199), (0, -40), (-18, -35.721142199))
            ThreePointArc((-18, -35.721142199), (-31.43028555, -40.151427749), (-27, -53.581713298))
        make_face()
        with BuildLine():
            ThreePointArc((-53.581713298, 27), (-60, 0), (-53.581713298, -27))
            ThreePointArc((-53.581713298, -27), (-40.151427749, -31.43028555), (-35.721142199, -18))
            ThreePointArc((-35.721142199, -18), (-40, 0), (-35.721142199, 18))
            ThreePointArc((-35.721142199, 18), (-40.151427749, 31.43028555), (-53.581713298, 27))
        make_face()
    extrude(amount=-EXTRUDE8_DEPTH, mode=Mode.SUBTRACT)

    # M8 Clearance Hole1 (through all)
    with Locations(Plane(origin=(0, 10, 0), x_dir=(1, 0, 0), z_dir=(0, 1, 0))):
        with Locations((-65, -65), (65, -65), (65, 65), (-65, 65)):
            Hole(M8_CLEARANCE_HOLE1_D / 2)


solid = part.part
